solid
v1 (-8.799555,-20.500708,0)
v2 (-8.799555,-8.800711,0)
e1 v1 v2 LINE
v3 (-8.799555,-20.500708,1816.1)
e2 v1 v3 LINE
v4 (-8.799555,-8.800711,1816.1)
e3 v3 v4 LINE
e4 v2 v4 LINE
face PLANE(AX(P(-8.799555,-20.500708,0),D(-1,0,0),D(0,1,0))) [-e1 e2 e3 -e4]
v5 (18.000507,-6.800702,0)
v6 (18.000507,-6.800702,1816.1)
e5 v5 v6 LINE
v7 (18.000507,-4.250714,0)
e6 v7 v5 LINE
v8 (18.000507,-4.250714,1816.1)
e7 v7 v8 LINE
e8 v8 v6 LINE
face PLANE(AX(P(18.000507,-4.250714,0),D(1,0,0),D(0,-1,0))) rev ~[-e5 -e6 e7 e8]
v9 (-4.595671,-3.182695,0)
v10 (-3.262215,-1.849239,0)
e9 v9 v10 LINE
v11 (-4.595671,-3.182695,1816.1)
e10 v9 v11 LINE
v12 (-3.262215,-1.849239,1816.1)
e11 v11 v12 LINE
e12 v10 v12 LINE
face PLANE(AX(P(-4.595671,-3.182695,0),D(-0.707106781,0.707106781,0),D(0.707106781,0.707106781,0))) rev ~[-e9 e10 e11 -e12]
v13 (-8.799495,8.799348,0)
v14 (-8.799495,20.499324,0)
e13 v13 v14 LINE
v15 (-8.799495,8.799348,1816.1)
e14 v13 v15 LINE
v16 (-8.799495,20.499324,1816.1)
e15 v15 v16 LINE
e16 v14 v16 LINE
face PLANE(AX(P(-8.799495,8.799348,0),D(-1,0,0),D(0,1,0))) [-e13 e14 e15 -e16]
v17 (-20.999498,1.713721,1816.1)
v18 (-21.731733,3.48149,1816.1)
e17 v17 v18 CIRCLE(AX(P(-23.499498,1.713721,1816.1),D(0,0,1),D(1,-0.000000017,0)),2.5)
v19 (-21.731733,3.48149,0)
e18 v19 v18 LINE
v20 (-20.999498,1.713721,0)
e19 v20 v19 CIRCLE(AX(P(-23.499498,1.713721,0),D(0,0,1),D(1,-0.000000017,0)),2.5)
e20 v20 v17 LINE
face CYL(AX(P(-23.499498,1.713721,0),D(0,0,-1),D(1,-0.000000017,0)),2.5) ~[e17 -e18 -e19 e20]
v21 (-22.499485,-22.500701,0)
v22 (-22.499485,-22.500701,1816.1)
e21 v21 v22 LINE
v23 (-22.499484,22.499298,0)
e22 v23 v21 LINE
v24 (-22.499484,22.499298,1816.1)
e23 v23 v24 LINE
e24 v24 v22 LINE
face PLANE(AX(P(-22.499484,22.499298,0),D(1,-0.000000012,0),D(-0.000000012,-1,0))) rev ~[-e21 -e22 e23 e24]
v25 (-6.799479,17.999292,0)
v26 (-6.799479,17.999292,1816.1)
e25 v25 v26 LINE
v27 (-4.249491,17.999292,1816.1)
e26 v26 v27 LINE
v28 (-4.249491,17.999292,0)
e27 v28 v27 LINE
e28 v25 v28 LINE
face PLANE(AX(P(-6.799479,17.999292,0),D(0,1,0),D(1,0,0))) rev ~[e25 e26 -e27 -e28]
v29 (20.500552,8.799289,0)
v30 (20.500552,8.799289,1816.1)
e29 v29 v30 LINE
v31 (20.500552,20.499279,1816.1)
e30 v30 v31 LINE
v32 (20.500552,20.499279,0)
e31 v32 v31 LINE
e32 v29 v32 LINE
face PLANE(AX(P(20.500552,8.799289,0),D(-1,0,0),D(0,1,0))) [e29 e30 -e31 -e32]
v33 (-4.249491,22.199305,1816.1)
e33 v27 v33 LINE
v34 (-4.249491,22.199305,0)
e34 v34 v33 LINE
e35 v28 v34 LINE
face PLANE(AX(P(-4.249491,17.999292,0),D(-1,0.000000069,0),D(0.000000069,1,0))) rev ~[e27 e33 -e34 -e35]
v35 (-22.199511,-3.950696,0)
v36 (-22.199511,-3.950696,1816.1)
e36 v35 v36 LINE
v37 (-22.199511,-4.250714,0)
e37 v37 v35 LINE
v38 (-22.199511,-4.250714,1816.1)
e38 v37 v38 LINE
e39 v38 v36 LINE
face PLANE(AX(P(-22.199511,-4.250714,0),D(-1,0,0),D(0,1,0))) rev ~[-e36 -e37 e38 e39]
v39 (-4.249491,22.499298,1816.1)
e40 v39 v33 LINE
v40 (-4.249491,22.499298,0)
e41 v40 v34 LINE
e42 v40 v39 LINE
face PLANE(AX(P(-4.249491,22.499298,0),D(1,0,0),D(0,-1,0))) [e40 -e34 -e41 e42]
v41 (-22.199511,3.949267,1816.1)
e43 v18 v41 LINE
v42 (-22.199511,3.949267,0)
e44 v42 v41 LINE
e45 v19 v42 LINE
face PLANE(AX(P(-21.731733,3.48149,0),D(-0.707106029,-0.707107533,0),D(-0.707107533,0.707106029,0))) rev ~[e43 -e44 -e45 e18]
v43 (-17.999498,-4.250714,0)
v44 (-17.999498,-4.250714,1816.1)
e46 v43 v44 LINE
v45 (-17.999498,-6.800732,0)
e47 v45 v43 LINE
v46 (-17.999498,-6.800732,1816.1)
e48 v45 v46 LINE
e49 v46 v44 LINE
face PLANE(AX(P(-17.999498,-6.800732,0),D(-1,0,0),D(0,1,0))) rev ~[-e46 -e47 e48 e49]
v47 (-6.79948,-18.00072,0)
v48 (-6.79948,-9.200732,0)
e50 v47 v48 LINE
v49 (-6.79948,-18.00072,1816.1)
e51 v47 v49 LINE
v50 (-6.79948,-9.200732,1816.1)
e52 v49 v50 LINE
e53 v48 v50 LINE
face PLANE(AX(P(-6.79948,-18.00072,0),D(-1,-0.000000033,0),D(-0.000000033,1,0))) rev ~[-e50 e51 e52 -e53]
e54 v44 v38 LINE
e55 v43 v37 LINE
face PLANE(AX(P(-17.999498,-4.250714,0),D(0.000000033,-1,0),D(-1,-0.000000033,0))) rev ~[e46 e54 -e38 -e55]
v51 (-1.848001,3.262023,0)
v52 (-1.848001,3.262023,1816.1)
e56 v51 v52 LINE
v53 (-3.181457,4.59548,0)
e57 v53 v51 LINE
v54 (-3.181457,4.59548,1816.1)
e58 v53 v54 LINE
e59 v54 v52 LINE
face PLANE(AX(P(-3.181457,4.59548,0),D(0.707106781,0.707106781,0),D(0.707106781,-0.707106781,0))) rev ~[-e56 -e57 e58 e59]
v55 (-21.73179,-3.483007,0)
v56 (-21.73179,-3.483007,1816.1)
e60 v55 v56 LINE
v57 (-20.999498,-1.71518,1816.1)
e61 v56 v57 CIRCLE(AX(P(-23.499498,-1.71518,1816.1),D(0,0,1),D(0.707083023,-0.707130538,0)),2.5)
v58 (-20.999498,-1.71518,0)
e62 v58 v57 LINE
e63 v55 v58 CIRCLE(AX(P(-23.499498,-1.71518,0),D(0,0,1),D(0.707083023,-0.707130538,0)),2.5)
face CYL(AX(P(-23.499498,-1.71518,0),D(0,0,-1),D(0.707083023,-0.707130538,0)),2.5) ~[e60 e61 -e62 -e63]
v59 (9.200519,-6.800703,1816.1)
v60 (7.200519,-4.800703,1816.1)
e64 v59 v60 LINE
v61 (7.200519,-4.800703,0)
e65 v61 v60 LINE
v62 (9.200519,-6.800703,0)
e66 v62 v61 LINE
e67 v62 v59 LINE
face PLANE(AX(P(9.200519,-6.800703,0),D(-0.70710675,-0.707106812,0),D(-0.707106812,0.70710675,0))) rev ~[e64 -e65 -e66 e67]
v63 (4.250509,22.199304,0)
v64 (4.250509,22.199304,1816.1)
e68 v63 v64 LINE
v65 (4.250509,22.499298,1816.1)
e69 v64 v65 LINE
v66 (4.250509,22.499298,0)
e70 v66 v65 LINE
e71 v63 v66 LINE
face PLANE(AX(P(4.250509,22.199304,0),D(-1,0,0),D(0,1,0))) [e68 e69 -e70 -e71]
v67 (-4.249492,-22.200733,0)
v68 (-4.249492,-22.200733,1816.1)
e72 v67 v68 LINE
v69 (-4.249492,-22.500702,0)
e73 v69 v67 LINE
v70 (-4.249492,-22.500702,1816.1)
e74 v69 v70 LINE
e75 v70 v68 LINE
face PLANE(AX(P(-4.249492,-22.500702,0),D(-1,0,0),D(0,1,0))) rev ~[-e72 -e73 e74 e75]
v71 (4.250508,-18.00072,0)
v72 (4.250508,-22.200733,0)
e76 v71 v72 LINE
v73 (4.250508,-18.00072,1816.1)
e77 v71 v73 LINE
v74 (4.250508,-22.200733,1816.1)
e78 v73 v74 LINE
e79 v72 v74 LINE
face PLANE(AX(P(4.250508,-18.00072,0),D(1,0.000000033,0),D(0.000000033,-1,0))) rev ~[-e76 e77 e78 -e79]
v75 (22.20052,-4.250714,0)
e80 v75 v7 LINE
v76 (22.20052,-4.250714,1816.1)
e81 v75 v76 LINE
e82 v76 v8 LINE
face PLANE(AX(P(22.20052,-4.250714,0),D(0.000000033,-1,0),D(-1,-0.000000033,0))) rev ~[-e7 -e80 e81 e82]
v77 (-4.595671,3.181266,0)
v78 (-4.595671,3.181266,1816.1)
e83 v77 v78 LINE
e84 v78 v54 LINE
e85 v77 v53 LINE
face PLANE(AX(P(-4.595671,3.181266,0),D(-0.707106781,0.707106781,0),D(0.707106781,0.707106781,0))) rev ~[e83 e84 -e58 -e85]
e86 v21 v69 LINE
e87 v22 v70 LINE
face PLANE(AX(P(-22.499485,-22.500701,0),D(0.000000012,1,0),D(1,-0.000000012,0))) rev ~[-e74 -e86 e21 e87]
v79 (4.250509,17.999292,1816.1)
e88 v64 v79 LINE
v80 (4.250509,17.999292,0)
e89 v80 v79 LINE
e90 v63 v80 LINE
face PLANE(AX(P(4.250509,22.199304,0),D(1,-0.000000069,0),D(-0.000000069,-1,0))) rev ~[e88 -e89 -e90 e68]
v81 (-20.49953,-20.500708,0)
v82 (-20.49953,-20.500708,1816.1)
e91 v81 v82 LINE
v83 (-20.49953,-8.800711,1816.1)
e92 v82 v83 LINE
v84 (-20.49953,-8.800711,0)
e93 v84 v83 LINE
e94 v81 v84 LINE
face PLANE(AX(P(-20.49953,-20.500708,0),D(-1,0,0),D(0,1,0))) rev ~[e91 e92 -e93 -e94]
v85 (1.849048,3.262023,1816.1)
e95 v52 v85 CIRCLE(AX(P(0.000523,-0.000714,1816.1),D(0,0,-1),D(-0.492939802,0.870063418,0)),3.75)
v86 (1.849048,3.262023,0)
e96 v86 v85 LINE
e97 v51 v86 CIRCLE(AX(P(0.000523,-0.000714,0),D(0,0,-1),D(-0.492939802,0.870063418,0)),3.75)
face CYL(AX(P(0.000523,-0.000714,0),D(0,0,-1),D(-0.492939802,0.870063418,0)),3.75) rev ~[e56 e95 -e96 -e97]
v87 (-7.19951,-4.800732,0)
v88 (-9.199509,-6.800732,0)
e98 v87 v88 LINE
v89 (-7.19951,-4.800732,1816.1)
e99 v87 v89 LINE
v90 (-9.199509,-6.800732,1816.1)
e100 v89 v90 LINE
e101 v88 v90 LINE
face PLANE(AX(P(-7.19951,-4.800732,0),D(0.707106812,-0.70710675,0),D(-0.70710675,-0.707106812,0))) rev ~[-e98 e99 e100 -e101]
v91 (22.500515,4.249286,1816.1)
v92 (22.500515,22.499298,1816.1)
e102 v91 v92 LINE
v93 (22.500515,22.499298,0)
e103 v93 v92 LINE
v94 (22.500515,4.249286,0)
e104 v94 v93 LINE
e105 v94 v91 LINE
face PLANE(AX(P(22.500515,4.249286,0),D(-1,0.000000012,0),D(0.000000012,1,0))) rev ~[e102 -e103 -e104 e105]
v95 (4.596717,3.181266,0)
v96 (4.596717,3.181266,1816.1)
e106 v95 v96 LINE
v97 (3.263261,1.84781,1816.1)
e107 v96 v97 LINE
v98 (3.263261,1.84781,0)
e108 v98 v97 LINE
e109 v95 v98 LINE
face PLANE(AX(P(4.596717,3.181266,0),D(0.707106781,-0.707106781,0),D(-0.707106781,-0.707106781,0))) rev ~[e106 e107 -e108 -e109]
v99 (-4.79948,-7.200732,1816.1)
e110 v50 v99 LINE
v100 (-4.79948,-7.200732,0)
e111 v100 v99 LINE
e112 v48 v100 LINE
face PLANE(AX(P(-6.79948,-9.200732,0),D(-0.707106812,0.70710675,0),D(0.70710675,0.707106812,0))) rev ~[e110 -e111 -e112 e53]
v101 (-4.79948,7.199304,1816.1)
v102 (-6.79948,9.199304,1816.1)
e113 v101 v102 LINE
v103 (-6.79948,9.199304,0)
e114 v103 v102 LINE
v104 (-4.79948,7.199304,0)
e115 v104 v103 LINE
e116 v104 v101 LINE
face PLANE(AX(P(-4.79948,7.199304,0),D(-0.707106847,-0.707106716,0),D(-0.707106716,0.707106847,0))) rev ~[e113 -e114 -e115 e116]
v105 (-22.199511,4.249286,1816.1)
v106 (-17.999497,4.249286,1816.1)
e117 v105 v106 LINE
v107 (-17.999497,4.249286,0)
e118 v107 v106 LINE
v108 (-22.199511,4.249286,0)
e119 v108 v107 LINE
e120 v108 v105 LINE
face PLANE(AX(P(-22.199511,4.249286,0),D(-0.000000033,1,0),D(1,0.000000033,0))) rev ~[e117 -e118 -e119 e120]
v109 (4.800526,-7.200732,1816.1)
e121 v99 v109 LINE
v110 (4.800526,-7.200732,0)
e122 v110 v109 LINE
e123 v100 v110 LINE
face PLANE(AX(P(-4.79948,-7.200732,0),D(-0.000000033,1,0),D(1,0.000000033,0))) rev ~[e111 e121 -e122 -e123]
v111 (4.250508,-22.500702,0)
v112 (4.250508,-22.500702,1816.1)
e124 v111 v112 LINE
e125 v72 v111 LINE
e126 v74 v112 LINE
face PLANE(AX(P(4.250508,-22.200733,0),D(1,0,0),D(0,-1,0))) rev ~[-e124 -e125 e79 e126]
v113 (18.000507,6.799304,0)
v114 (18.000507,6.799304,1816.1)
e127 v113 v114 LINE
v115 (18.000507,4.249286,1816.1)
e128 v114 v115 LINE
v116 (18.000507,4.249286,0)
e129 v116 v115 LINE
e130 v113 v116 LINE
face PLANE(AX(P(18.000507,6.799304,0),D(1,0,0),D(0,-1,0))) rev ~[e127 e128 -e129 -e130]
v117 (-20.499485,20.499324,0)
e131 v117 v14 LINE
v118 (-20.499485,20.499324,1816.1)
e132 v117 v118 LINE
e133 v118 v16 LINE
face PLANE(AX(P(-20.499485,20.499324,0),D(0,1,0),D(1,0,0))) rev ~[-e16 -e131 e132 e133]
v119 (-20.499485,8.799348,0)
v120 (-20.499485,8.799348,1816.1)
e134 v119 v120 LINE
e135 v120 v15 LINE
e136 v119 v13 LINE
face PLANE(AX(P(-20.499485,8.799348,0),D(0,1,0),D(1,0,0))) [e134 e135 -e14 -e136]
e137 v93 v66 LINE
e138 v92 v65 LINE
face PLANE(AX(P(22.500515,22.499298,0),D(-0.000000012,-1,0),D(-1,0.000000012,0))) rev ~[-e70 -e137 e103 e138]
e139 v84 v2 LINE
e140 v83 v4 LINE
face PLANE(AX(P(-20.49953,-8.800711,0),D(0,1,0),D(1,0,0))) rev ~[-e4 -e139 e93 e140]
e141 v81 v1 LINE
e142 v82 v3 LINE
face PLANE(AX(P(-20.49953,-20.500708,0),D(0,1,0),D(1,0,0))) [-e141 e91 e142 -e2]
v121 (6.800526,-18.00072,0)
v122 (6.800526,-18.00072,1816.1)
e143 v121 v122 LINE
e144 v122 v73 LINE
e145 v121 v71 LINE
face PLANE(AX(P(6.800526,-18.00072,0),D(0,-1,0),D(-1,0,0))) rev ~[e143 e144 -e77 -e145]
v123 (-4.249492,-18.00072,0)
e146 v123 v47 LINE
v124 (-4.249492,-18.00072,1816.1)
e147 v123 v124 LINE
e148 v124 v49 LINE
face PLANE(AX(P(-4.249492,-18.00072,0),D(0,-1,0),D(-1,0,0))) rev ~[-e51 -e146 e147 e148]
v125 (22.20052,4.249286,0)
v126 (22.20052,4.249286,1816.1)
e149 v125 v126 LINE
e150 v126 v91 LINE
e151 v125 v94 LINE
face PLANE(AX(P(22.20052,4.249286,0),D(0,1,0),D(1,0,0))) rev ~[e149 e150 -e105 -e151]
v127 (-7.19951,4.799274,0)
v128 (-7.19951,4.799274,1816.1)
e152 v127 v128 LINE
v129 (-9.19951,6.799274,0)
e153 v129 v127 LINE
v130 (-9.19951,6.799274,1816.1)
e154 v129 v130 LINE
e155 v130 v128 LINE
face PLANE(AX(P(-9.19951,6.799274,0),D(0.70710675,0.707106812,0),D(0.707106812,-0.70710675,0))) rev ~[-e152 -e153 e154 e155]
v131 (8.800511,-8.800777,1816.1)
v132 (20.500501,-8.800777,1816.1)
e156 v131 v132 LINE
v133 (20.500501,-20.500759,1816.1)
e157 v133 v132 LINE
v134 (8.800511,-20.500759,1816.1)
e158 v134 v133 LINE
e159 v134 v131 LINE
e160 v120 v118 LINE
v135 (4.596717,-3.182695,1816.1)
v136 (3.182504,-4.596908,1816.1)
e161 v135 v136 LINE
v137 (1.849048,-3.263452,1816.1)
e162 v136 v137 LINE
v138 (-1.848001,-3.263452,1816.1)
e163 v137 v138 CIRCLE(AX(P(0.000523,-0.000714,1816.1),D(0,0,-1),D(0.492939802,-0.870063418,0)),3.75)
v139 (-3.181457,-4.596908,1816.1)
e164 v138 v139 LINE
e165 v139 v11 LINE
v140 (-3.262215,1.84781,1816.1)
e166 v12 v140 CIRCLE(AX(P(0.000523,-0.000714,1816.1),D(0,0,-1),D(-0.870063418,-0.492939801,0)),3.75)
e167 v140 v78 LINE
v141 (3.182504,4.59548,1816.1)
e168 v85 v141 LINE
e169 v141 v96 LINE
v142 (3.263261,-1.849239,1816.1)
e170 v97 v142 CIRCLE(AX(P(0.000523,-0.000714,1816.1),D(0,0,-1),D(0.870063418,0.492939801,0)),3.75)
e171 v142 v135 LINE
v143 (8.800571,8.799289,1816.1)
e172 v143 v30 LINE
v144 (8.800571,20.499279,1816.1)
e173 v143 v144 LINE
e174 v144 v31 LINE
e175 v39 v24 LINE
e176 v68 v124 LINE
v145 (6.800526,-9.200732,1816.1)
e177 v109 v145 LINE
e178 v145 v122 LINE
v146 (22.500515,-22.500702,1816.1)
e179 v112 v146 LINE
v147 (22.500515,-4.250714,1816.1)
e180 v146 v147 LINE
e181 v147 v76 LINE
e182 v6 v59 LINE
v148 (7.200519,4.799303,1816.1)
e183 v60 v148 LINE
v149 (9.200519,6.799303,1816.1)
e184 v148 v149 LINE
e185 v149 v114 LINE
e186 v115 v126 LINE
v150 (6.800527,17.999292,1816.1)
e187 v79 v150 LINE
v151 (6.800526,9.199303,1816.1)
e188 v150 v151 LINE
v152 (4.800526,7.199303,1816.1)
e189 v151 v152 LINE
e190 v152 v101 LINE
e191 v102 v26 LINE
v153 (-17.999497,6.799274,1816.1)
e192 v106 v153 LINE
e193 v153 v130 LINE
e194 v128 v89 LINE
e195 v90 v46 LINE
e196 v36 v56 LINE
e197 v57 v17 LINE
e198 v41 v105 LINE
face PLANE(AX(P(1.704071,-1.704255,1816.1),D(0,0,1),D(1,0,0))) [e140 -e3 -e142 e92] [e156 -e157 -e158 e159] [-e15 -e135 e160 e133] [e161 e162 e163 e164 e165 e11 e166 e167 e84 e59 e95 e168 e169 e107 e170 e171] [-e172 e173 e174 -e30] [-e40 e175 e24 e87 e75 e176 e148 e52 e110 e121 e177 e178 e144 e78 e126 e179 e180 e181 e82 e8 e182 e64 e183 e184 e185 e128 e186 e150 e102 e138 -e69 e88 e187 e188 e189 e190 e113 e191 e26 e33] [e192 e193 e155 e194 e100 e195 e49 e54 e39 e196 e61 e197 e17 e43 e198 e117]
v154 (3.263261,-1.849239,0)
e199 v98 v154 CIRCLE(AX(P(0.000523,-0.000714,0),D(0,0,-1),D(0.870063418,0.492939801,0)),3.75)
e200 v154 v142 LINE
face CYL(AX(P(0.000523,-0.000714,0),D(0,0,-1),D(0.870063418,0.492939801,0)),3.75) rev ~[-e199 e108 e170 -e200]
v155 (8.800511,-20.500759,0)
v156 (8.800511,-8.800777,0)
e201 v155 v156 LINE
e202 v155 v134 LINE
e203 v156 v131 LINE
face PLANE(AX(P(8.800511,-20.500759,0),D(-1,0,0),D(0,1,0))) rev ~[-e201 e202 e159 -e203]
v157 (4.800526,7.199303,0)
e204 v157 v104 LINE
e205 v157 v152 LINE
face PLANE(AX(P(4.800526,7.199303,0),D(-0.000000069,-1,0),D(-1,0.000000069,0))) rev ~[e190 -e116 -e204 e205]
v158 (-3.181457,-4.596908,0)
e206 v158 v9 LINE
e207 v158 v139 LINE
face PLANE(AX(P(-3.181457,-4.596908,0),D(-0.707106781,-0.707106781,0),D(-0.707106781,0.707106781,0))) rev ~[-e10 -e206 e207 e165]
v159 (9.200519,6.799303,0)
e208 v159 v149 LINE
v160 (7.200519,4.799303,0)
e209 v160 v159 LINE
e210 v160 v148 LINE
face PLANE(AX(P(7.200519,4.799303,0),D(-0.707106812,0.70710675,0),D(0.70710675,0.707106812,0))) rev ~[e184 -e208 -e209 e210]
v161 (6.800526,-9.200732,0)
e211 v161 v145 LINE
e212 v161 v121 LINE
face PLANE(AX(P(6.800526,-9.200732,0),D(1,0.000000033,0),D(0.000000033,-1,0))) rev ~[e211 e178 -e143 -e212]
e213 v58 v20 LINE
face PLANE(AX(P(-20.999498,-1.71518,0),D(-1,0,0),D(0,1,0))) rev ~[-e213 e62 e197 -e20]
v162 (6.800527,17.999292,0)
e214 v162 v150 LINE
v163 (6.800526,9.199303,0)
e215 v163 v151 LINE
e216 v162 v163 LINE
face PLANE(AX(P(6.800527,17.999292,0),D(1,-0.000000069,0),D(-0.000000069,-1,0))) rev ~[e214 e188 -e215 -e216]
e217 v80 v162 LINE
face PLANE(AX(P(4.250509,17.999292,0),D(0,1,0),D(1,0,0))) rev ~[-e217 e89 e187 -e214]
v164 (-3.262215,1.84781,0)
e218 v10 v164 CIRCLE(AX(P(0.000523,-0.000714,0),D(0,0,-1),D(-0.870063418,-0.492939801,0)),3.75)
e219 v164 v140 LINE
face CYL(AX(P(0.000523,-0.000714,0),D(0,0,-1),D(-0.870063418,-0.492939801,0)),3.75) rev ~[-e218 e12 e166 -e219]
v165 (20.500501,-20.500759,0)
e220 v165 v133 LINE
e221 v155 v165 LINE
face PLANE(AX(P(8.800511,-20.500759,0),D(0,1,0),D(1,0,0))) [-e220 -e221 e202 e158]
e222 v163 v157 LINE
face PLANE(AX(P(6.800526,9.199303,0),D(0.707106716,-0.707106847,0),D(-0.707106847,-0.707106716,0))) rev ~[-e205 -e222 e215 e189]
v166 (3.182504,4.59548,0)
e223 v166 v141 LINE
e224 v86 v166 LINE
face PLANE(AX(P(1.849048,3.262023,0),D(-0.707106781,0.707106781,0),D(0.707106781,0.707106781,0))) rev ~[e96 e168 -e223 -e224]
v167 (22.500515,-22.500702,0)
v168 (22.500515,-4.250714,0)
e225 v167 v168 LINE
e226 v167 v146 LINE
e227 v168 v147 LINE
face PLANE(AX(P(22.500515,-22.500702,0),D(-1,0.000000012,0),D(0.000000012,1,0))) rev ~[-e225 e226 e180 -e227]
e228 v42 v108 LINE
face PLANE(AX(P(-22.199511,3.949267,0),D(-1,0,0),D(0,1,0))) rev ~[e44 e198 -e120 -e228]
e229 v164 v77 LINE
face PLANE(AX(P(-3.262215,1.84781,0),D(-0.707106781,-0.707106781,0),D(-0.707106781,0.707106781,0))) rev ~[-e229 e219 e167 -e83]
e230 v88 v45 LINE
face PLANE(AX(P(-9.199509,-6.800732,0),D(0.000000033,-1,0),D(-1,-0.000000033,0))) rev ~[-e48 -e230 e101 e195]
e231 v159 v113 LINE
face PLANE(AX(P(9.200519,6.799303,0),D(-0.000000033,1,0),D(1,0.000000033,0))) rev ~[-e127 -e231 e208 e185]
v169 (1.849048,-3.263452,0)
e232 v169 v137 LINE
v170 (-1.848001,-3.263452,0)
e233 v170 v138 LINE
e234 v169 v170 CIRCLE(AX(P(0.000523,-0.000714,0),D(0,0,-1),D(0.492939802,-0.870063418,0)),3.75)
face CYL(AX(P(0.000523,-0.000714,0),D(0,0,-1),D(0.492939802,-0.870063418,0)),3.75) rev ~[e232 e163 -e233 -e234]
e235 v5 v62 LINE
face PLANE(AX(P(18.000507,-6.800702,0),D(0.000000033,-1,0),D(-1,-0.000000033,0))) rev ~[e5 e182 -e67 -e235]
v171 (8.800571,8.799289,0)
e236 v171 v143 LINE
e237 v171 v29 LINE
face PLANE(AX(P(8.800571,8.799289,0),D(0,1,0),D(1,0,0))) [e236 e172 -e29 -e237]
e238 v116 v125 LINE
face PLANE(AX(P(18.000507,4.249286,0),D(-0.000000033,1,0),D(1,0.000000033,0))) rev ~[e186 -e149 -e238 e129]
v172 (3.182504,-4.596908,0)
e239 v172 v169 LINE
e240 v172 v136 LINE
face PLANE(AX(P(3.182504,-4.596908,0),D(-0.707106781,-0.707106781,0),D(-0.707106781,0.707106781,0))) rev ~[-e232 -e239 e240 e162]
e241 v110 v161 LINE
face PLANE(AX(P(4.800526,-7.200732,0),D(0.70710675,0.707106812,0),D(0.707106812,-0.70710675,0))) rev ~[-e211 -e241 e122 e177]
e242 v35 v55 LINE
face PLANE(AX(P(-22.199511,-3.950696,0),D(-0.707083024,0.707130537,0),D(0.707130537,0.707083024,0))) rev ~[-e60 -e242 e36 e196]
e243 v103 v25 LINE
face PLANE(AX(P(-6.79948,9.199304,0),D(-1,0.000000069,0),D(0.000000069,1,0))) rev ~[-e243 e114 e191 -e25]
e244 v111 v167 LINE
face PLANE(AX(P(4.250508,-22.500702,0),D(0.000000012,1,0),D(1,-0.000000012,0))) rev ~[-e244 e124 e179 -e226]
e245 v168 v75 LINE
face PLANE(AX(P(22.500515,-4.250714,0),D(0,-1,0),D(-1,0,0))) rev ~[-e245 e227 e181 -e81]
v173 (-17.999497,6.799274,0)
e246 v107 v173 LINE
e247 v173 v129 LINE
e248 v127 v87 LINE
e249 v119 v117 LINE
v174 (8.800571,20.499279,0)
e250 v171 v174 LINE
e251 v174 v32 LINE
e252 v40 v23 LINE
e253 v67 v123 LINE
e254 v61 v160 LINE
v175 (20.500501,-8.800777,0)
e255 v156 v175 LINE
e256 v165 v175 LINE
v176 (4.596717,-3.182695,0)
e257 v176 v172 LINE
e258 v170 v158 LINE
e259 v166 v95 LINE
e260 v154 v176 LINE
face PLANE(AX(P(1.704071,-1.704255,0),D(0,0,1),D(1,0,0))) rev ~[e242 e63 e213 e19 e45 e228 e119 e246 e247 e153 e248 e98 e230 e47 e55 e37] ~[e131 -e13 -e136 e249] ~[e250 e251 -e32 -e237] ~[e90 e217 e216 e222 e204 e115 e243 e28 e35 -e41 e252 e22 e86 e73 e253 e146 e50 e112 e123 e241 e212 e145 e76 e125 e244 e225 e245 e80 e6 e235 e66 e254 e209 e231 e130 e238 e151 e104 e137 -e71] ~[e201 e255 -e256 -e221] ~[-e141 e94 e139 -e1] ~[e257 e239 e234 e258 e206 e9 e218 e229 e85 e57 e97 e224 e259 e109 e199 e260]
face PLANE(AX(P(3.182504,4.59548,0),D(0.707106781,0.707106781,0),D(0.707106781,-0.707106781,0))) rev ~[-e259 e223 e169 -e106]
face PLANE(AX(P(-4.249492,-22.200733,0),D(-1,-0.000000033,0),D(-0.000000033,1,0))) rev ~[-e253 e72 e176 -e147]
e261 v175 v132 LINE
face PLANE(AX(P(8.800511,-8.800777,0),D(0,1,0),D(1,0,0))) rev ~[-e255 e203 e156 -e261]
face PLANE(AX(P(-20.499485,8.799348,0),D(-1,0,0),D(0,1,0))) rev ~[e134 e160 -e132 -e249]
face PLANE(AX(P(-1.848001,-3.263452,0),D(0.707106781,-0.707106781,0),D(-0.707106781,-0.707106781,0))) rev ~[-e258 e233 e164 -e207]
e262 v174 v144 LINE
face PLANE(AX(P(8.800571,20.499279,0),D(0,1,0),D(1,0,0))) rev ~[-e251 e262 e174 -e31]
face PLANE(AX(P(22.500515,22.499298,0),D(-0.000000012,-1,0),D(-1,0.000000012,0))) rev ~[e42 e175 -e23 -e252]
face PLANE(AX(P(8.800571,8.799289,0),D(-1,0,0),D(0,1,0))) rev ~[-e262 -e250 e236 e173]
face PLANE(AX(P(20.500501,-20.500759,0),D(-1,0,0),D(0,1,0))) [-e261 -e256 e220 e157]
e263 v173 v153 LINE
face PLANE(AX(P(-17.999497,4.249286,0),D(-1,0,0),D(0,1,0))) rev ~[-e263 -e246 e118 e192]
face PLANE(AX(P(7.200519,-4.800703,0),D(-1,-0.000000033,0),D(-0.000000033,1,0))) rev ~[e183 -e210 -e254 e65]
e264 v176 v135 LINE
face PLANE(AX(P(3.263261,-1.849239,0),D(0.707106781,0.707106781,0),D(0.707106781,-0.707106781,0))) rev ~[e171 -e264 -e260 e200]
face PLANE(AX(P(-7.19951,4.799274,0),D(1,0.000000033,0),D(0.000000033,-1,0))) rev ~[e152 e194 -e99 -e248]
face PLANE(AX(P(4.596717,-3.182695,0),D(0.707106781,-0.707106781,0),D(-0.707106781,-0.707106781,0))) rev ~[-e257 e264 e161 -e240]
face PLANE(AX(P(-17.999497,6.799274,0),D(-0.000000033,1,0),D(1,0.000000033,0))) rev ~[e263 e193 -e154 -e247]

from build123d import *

# Parameters (mm, degrees)
SKETCH1_W           = 11.699975178
SKETCH1_H           = 11.699996949
SKETCH1_W_2         = 11.699990436
SKETCH1_H_2         = 11.699981689
SKETCH1_W_3         = 11.699990437
SKETCH1_H_3         = 11.699975177
SKETCH1_W_4         = 11.699981689
SKETCH1_H_4         = 11.699990436
BOSS_EXTRUDE1_DEPTH = 1816.1
CUT_EXTRUDE1_REACH  = 1818.379


with BuildPart() as part:
    # Sketch1 → Boss-Extrude1 (new body)
    with BuildSketch(Plane.XY):
        Polygon((22.500515052, 22.499297556), (-22.499484399, 22.499298105), (-22.499484948, -22.500701346), (-4.249491942, -22.500701568), (-4.249491942, -22.200733242), (-4.24949208, -18.000719999), (-6.799479919, -18.000719999), (-6.799480207, -9.200732353), (-4.799480391, -7.200732362), (4.800525817, -7.200732047), (6.8005258, -9.200731855), (6.800526088, -18.000720263), (4.250507877, -18.000720263), (4.250508015, -22.200733153), (4.250508015, -22.500701672), (22.500514502, -22.500701895), (22.500514725, -4.250714302), (22.200520351, -4.250714302), (18.000507108, -4.25071444), (18.000507108, -6.800702279), (9.200519462, -6.800702567), (7.200519471, -4.800702751), (7.200519156, 4.799303458), (9.200518964, 6.79930344), (18.000507424, 6.799303729), (18.000507424, 4.249285514), (22.200520261, 4.249285652), (22.500514829, 4.249285652), align=None)
        with BuildLine():
            Line((-4.249491247, 17.999291576), (-4.249490956, 22.199304807))
            Line((-4.249490956, 22.199304807), (-3.949472548, 22.199304807))
            Line((-3.949472548, 22.199304807), (-3.481695222, 21.73152644))
            ThreePointArc((-3.481695222, 21.73152644), (-2.670636178, 21.189593132), (-1.713926324, 20.999291428))
            Line((-1.713926324, 20.999291428), (1.714975167, 20.999291428))
            ThreePointArc((1.714975167, 20.999291428), (2.671722509, 21.189608628), (3.482801459, 21.731583767))
            Line((3.482801459, 21.731583767), (3.950490798, 22.199304487))
            Line((3.950490798, 22.199304487), (4.250509108, 22.199304487))
            Line((4.250509108, 22.199304487), (4.250508817, 17.999291575))
            Line((4.250508817, 17.999291575), (6.800527063, 17.999291575))
            Line((6.800527063, 17.999291575), (6.800526453, 9.199302988))
            Line((6.800526453, 9.199302988), (4.800526064, 7.199302969))
            Line((4.800526064, 7.199302969), (-4.799479817, 7.199303635))
            Line((-4.799479817, 7.199303635), (-6.799479854, 9.199304042))
            Line((-6.799479854, 9.199304042), (-6.799479244, 17.999291576))
            Line((-6.799479244, 17.999291576), (-4.249491247, 17.999291576))
        make_face(mode=Mode.SUBTRACT)
        with BuildLine():
            Line((-17.99949762, -4.250714253), (-22.199510799, -4.250714391))
            Line((-22.199510799, -4.250714391), (-22.199510799, -3.950696126))
            Line((-22.199510799, -3.950696126), (-21.731790056, -3.48300681))
            ThreePointArc((-21.731790056, -3.48300681), (-21.189814855, -2.671927844), (-20.999497617, -1.71518046))
            Line((-20.999497617, -1.71518046), (-20.999497617, 1.713721031))
            ThreePointArc((-20.999497617, 1.713721031), (-21.189799286, 2.670430863), (-21.731732544, 3.481489907))
            Line((-21.731732544, 3.481489907), (-22.199510888, 3.949267256))
            Line((-22.199510888, 3.949267256), (-22.199510888, 4.249285566))
            Line((-22.199510888, 4.249285566), (-17.999497356, 4.249285704))
            Line((-17.999497356, 4.249285704), (-17.999497356, 6.79927354))
            Line((-17.999497356, 6.79927354), (-9.199509947, 6.799273828))
            Line((-9.199509947, 6.799273828), (-7.199509956, 4.799274012))
            Line((-7.199509956, 4.799274012), (-7.199509641, -4.800732197))
            Line((-7.199509641, -4.800732197), (-9.199509449, -6.800732179))
            Line((-9.199509449, -6.800732179), (-17.99949762, -6.800732468))
            Line((-17.99949762, -6.800732468), (-17.99949762, -4.250714253))
        make_face(mode=Mode.SUBTRACT)
        with Locations((-14.649542346, -14.650709384)):
            Rectangle(SKETCH1_W, SKETCH1_H, mode=Mode.SUBTRACT)
        with Locations((14.65050626, -14.650767962)):
            Rectangle(SKETCH1_W_2, SKETCH1_H_2, mode=Mode.SUBTRACT)
        with BuildLine():
            Line((-3.181457266, -4.596908447), (-4.595670829, -3.182694885))
            Line((-4.595670829, -3.182694885), (-3.26221457, -1.849238626))
            ThreePointArc((-3.26221457, -1.849238626), (-3.749476751, -0.00071437), (-3.26221457, 1.847809887))
            Line((-3.26221457, 1.847809887), (-4.595670829, 3.181266146))
            Line((-4.595670829, 3.181266146), (-3.181457266, 4.595479708))
            Line((-3.181457266, 4.595479708), (-1.848001007, 3.262023449))
            ThreePointArc((-1.848001007, 3.262023449), (0.000523249, 3.74928563), (1.849047505, 3.262023449))
            Line((1.849047505, 3.262023449), (3.182503764, 4.595479708))
            Line((3.182503764, 4.595479708), (4.596717327, 3.181266146))
            Line((4.596717327, 3.181266146), (3.263261068, 1.847809887))
            ThreePointArc((3.263261068, 1.847809887), (3.750523249, -0.00071437), (3.263261068, -1.849238626))
            Line((3.263261068, -1.849238626), (4.596717327, -3.182694885))
            Line((4.596717327, -3.182694885), (3.182503764, -4.596908447))
            Line((3.182503764, -4.596908447), (1.849047505, -3.263452188))
            ThreePointArc((1.849047505, -3.263452188), (0.000523249, -3.75071437), (-1.848001007, -3.263452188))
            Line((-1.848001007, -3.263452188), (-3.181457266, -4.596908447))
        make_face(mode=Mode.SUBTRACT)
        with Locations((-14.64949028, 14.649335967)):
            Rectangle(SKETCH1_W_3, SKETCH1_H_3, mode=Mode.SUBTRACT)
        with Locations((14.650561583, 14.6492839)):
            Rectangle(SKETCH1_W_4, SKETCH1_H_4, mode=Mode.SUBTRACT)
    extrude(amount=BOSS_EXTRUDE1_DEPTH)

    # Sketch1<4> → Cut-Extrude1 (cut, up to next)
    with BuildSketch(Plane.XY, mode=Mode.PRIVATE) as cut_extrude1_sk1:
        with BuildLine():
            Line((-4.249490956, 22.499297883), (-4.249490956, 22.199304807))
            Line((-4.249490956, 22.199304807), (-3.949472548, 22.199304807))
            Line((-3.949472548, 22.199304807), (-3.481695222, 21.73152644))
            ThreePointArc((-3.481695222, 21.73152644), (-2.670636178, 21.189593132), (-1.713926324, 20.999291428))
            Line((-1.713926324, 20.999291428), (1.714975167, 20.999291428))
            ThreePointArc((1.714975167, 20.999291428), (2.671722509, 21.189608628), (3.482801459, 21.731583767))
            Line((3.482801459, 21.731583767), (3.950490798, 22.199304487))
            Line((3.950490798, 22.199304487), (4.250509108, 22.199304487))
            Line((4.250509108, 22.199304487), (4.250509108, 22.499297779))
            Line((4.250509108, 22.499297779), (-4.249490956, 22.499297883))
        make_face()
    cut_extrude1_tool1 = extrude(cut_extrude1_sk1.sketch, amount=CUT_EXTRUDE1_REACH, mode=Mode.PRIVATE) & part.part
    add(cut_extrude1_tool1.solids().sort_by_distance((0.000518, 21.824215, 0))[0], mode=Mode.SUBTRACT)


solid = part.part
